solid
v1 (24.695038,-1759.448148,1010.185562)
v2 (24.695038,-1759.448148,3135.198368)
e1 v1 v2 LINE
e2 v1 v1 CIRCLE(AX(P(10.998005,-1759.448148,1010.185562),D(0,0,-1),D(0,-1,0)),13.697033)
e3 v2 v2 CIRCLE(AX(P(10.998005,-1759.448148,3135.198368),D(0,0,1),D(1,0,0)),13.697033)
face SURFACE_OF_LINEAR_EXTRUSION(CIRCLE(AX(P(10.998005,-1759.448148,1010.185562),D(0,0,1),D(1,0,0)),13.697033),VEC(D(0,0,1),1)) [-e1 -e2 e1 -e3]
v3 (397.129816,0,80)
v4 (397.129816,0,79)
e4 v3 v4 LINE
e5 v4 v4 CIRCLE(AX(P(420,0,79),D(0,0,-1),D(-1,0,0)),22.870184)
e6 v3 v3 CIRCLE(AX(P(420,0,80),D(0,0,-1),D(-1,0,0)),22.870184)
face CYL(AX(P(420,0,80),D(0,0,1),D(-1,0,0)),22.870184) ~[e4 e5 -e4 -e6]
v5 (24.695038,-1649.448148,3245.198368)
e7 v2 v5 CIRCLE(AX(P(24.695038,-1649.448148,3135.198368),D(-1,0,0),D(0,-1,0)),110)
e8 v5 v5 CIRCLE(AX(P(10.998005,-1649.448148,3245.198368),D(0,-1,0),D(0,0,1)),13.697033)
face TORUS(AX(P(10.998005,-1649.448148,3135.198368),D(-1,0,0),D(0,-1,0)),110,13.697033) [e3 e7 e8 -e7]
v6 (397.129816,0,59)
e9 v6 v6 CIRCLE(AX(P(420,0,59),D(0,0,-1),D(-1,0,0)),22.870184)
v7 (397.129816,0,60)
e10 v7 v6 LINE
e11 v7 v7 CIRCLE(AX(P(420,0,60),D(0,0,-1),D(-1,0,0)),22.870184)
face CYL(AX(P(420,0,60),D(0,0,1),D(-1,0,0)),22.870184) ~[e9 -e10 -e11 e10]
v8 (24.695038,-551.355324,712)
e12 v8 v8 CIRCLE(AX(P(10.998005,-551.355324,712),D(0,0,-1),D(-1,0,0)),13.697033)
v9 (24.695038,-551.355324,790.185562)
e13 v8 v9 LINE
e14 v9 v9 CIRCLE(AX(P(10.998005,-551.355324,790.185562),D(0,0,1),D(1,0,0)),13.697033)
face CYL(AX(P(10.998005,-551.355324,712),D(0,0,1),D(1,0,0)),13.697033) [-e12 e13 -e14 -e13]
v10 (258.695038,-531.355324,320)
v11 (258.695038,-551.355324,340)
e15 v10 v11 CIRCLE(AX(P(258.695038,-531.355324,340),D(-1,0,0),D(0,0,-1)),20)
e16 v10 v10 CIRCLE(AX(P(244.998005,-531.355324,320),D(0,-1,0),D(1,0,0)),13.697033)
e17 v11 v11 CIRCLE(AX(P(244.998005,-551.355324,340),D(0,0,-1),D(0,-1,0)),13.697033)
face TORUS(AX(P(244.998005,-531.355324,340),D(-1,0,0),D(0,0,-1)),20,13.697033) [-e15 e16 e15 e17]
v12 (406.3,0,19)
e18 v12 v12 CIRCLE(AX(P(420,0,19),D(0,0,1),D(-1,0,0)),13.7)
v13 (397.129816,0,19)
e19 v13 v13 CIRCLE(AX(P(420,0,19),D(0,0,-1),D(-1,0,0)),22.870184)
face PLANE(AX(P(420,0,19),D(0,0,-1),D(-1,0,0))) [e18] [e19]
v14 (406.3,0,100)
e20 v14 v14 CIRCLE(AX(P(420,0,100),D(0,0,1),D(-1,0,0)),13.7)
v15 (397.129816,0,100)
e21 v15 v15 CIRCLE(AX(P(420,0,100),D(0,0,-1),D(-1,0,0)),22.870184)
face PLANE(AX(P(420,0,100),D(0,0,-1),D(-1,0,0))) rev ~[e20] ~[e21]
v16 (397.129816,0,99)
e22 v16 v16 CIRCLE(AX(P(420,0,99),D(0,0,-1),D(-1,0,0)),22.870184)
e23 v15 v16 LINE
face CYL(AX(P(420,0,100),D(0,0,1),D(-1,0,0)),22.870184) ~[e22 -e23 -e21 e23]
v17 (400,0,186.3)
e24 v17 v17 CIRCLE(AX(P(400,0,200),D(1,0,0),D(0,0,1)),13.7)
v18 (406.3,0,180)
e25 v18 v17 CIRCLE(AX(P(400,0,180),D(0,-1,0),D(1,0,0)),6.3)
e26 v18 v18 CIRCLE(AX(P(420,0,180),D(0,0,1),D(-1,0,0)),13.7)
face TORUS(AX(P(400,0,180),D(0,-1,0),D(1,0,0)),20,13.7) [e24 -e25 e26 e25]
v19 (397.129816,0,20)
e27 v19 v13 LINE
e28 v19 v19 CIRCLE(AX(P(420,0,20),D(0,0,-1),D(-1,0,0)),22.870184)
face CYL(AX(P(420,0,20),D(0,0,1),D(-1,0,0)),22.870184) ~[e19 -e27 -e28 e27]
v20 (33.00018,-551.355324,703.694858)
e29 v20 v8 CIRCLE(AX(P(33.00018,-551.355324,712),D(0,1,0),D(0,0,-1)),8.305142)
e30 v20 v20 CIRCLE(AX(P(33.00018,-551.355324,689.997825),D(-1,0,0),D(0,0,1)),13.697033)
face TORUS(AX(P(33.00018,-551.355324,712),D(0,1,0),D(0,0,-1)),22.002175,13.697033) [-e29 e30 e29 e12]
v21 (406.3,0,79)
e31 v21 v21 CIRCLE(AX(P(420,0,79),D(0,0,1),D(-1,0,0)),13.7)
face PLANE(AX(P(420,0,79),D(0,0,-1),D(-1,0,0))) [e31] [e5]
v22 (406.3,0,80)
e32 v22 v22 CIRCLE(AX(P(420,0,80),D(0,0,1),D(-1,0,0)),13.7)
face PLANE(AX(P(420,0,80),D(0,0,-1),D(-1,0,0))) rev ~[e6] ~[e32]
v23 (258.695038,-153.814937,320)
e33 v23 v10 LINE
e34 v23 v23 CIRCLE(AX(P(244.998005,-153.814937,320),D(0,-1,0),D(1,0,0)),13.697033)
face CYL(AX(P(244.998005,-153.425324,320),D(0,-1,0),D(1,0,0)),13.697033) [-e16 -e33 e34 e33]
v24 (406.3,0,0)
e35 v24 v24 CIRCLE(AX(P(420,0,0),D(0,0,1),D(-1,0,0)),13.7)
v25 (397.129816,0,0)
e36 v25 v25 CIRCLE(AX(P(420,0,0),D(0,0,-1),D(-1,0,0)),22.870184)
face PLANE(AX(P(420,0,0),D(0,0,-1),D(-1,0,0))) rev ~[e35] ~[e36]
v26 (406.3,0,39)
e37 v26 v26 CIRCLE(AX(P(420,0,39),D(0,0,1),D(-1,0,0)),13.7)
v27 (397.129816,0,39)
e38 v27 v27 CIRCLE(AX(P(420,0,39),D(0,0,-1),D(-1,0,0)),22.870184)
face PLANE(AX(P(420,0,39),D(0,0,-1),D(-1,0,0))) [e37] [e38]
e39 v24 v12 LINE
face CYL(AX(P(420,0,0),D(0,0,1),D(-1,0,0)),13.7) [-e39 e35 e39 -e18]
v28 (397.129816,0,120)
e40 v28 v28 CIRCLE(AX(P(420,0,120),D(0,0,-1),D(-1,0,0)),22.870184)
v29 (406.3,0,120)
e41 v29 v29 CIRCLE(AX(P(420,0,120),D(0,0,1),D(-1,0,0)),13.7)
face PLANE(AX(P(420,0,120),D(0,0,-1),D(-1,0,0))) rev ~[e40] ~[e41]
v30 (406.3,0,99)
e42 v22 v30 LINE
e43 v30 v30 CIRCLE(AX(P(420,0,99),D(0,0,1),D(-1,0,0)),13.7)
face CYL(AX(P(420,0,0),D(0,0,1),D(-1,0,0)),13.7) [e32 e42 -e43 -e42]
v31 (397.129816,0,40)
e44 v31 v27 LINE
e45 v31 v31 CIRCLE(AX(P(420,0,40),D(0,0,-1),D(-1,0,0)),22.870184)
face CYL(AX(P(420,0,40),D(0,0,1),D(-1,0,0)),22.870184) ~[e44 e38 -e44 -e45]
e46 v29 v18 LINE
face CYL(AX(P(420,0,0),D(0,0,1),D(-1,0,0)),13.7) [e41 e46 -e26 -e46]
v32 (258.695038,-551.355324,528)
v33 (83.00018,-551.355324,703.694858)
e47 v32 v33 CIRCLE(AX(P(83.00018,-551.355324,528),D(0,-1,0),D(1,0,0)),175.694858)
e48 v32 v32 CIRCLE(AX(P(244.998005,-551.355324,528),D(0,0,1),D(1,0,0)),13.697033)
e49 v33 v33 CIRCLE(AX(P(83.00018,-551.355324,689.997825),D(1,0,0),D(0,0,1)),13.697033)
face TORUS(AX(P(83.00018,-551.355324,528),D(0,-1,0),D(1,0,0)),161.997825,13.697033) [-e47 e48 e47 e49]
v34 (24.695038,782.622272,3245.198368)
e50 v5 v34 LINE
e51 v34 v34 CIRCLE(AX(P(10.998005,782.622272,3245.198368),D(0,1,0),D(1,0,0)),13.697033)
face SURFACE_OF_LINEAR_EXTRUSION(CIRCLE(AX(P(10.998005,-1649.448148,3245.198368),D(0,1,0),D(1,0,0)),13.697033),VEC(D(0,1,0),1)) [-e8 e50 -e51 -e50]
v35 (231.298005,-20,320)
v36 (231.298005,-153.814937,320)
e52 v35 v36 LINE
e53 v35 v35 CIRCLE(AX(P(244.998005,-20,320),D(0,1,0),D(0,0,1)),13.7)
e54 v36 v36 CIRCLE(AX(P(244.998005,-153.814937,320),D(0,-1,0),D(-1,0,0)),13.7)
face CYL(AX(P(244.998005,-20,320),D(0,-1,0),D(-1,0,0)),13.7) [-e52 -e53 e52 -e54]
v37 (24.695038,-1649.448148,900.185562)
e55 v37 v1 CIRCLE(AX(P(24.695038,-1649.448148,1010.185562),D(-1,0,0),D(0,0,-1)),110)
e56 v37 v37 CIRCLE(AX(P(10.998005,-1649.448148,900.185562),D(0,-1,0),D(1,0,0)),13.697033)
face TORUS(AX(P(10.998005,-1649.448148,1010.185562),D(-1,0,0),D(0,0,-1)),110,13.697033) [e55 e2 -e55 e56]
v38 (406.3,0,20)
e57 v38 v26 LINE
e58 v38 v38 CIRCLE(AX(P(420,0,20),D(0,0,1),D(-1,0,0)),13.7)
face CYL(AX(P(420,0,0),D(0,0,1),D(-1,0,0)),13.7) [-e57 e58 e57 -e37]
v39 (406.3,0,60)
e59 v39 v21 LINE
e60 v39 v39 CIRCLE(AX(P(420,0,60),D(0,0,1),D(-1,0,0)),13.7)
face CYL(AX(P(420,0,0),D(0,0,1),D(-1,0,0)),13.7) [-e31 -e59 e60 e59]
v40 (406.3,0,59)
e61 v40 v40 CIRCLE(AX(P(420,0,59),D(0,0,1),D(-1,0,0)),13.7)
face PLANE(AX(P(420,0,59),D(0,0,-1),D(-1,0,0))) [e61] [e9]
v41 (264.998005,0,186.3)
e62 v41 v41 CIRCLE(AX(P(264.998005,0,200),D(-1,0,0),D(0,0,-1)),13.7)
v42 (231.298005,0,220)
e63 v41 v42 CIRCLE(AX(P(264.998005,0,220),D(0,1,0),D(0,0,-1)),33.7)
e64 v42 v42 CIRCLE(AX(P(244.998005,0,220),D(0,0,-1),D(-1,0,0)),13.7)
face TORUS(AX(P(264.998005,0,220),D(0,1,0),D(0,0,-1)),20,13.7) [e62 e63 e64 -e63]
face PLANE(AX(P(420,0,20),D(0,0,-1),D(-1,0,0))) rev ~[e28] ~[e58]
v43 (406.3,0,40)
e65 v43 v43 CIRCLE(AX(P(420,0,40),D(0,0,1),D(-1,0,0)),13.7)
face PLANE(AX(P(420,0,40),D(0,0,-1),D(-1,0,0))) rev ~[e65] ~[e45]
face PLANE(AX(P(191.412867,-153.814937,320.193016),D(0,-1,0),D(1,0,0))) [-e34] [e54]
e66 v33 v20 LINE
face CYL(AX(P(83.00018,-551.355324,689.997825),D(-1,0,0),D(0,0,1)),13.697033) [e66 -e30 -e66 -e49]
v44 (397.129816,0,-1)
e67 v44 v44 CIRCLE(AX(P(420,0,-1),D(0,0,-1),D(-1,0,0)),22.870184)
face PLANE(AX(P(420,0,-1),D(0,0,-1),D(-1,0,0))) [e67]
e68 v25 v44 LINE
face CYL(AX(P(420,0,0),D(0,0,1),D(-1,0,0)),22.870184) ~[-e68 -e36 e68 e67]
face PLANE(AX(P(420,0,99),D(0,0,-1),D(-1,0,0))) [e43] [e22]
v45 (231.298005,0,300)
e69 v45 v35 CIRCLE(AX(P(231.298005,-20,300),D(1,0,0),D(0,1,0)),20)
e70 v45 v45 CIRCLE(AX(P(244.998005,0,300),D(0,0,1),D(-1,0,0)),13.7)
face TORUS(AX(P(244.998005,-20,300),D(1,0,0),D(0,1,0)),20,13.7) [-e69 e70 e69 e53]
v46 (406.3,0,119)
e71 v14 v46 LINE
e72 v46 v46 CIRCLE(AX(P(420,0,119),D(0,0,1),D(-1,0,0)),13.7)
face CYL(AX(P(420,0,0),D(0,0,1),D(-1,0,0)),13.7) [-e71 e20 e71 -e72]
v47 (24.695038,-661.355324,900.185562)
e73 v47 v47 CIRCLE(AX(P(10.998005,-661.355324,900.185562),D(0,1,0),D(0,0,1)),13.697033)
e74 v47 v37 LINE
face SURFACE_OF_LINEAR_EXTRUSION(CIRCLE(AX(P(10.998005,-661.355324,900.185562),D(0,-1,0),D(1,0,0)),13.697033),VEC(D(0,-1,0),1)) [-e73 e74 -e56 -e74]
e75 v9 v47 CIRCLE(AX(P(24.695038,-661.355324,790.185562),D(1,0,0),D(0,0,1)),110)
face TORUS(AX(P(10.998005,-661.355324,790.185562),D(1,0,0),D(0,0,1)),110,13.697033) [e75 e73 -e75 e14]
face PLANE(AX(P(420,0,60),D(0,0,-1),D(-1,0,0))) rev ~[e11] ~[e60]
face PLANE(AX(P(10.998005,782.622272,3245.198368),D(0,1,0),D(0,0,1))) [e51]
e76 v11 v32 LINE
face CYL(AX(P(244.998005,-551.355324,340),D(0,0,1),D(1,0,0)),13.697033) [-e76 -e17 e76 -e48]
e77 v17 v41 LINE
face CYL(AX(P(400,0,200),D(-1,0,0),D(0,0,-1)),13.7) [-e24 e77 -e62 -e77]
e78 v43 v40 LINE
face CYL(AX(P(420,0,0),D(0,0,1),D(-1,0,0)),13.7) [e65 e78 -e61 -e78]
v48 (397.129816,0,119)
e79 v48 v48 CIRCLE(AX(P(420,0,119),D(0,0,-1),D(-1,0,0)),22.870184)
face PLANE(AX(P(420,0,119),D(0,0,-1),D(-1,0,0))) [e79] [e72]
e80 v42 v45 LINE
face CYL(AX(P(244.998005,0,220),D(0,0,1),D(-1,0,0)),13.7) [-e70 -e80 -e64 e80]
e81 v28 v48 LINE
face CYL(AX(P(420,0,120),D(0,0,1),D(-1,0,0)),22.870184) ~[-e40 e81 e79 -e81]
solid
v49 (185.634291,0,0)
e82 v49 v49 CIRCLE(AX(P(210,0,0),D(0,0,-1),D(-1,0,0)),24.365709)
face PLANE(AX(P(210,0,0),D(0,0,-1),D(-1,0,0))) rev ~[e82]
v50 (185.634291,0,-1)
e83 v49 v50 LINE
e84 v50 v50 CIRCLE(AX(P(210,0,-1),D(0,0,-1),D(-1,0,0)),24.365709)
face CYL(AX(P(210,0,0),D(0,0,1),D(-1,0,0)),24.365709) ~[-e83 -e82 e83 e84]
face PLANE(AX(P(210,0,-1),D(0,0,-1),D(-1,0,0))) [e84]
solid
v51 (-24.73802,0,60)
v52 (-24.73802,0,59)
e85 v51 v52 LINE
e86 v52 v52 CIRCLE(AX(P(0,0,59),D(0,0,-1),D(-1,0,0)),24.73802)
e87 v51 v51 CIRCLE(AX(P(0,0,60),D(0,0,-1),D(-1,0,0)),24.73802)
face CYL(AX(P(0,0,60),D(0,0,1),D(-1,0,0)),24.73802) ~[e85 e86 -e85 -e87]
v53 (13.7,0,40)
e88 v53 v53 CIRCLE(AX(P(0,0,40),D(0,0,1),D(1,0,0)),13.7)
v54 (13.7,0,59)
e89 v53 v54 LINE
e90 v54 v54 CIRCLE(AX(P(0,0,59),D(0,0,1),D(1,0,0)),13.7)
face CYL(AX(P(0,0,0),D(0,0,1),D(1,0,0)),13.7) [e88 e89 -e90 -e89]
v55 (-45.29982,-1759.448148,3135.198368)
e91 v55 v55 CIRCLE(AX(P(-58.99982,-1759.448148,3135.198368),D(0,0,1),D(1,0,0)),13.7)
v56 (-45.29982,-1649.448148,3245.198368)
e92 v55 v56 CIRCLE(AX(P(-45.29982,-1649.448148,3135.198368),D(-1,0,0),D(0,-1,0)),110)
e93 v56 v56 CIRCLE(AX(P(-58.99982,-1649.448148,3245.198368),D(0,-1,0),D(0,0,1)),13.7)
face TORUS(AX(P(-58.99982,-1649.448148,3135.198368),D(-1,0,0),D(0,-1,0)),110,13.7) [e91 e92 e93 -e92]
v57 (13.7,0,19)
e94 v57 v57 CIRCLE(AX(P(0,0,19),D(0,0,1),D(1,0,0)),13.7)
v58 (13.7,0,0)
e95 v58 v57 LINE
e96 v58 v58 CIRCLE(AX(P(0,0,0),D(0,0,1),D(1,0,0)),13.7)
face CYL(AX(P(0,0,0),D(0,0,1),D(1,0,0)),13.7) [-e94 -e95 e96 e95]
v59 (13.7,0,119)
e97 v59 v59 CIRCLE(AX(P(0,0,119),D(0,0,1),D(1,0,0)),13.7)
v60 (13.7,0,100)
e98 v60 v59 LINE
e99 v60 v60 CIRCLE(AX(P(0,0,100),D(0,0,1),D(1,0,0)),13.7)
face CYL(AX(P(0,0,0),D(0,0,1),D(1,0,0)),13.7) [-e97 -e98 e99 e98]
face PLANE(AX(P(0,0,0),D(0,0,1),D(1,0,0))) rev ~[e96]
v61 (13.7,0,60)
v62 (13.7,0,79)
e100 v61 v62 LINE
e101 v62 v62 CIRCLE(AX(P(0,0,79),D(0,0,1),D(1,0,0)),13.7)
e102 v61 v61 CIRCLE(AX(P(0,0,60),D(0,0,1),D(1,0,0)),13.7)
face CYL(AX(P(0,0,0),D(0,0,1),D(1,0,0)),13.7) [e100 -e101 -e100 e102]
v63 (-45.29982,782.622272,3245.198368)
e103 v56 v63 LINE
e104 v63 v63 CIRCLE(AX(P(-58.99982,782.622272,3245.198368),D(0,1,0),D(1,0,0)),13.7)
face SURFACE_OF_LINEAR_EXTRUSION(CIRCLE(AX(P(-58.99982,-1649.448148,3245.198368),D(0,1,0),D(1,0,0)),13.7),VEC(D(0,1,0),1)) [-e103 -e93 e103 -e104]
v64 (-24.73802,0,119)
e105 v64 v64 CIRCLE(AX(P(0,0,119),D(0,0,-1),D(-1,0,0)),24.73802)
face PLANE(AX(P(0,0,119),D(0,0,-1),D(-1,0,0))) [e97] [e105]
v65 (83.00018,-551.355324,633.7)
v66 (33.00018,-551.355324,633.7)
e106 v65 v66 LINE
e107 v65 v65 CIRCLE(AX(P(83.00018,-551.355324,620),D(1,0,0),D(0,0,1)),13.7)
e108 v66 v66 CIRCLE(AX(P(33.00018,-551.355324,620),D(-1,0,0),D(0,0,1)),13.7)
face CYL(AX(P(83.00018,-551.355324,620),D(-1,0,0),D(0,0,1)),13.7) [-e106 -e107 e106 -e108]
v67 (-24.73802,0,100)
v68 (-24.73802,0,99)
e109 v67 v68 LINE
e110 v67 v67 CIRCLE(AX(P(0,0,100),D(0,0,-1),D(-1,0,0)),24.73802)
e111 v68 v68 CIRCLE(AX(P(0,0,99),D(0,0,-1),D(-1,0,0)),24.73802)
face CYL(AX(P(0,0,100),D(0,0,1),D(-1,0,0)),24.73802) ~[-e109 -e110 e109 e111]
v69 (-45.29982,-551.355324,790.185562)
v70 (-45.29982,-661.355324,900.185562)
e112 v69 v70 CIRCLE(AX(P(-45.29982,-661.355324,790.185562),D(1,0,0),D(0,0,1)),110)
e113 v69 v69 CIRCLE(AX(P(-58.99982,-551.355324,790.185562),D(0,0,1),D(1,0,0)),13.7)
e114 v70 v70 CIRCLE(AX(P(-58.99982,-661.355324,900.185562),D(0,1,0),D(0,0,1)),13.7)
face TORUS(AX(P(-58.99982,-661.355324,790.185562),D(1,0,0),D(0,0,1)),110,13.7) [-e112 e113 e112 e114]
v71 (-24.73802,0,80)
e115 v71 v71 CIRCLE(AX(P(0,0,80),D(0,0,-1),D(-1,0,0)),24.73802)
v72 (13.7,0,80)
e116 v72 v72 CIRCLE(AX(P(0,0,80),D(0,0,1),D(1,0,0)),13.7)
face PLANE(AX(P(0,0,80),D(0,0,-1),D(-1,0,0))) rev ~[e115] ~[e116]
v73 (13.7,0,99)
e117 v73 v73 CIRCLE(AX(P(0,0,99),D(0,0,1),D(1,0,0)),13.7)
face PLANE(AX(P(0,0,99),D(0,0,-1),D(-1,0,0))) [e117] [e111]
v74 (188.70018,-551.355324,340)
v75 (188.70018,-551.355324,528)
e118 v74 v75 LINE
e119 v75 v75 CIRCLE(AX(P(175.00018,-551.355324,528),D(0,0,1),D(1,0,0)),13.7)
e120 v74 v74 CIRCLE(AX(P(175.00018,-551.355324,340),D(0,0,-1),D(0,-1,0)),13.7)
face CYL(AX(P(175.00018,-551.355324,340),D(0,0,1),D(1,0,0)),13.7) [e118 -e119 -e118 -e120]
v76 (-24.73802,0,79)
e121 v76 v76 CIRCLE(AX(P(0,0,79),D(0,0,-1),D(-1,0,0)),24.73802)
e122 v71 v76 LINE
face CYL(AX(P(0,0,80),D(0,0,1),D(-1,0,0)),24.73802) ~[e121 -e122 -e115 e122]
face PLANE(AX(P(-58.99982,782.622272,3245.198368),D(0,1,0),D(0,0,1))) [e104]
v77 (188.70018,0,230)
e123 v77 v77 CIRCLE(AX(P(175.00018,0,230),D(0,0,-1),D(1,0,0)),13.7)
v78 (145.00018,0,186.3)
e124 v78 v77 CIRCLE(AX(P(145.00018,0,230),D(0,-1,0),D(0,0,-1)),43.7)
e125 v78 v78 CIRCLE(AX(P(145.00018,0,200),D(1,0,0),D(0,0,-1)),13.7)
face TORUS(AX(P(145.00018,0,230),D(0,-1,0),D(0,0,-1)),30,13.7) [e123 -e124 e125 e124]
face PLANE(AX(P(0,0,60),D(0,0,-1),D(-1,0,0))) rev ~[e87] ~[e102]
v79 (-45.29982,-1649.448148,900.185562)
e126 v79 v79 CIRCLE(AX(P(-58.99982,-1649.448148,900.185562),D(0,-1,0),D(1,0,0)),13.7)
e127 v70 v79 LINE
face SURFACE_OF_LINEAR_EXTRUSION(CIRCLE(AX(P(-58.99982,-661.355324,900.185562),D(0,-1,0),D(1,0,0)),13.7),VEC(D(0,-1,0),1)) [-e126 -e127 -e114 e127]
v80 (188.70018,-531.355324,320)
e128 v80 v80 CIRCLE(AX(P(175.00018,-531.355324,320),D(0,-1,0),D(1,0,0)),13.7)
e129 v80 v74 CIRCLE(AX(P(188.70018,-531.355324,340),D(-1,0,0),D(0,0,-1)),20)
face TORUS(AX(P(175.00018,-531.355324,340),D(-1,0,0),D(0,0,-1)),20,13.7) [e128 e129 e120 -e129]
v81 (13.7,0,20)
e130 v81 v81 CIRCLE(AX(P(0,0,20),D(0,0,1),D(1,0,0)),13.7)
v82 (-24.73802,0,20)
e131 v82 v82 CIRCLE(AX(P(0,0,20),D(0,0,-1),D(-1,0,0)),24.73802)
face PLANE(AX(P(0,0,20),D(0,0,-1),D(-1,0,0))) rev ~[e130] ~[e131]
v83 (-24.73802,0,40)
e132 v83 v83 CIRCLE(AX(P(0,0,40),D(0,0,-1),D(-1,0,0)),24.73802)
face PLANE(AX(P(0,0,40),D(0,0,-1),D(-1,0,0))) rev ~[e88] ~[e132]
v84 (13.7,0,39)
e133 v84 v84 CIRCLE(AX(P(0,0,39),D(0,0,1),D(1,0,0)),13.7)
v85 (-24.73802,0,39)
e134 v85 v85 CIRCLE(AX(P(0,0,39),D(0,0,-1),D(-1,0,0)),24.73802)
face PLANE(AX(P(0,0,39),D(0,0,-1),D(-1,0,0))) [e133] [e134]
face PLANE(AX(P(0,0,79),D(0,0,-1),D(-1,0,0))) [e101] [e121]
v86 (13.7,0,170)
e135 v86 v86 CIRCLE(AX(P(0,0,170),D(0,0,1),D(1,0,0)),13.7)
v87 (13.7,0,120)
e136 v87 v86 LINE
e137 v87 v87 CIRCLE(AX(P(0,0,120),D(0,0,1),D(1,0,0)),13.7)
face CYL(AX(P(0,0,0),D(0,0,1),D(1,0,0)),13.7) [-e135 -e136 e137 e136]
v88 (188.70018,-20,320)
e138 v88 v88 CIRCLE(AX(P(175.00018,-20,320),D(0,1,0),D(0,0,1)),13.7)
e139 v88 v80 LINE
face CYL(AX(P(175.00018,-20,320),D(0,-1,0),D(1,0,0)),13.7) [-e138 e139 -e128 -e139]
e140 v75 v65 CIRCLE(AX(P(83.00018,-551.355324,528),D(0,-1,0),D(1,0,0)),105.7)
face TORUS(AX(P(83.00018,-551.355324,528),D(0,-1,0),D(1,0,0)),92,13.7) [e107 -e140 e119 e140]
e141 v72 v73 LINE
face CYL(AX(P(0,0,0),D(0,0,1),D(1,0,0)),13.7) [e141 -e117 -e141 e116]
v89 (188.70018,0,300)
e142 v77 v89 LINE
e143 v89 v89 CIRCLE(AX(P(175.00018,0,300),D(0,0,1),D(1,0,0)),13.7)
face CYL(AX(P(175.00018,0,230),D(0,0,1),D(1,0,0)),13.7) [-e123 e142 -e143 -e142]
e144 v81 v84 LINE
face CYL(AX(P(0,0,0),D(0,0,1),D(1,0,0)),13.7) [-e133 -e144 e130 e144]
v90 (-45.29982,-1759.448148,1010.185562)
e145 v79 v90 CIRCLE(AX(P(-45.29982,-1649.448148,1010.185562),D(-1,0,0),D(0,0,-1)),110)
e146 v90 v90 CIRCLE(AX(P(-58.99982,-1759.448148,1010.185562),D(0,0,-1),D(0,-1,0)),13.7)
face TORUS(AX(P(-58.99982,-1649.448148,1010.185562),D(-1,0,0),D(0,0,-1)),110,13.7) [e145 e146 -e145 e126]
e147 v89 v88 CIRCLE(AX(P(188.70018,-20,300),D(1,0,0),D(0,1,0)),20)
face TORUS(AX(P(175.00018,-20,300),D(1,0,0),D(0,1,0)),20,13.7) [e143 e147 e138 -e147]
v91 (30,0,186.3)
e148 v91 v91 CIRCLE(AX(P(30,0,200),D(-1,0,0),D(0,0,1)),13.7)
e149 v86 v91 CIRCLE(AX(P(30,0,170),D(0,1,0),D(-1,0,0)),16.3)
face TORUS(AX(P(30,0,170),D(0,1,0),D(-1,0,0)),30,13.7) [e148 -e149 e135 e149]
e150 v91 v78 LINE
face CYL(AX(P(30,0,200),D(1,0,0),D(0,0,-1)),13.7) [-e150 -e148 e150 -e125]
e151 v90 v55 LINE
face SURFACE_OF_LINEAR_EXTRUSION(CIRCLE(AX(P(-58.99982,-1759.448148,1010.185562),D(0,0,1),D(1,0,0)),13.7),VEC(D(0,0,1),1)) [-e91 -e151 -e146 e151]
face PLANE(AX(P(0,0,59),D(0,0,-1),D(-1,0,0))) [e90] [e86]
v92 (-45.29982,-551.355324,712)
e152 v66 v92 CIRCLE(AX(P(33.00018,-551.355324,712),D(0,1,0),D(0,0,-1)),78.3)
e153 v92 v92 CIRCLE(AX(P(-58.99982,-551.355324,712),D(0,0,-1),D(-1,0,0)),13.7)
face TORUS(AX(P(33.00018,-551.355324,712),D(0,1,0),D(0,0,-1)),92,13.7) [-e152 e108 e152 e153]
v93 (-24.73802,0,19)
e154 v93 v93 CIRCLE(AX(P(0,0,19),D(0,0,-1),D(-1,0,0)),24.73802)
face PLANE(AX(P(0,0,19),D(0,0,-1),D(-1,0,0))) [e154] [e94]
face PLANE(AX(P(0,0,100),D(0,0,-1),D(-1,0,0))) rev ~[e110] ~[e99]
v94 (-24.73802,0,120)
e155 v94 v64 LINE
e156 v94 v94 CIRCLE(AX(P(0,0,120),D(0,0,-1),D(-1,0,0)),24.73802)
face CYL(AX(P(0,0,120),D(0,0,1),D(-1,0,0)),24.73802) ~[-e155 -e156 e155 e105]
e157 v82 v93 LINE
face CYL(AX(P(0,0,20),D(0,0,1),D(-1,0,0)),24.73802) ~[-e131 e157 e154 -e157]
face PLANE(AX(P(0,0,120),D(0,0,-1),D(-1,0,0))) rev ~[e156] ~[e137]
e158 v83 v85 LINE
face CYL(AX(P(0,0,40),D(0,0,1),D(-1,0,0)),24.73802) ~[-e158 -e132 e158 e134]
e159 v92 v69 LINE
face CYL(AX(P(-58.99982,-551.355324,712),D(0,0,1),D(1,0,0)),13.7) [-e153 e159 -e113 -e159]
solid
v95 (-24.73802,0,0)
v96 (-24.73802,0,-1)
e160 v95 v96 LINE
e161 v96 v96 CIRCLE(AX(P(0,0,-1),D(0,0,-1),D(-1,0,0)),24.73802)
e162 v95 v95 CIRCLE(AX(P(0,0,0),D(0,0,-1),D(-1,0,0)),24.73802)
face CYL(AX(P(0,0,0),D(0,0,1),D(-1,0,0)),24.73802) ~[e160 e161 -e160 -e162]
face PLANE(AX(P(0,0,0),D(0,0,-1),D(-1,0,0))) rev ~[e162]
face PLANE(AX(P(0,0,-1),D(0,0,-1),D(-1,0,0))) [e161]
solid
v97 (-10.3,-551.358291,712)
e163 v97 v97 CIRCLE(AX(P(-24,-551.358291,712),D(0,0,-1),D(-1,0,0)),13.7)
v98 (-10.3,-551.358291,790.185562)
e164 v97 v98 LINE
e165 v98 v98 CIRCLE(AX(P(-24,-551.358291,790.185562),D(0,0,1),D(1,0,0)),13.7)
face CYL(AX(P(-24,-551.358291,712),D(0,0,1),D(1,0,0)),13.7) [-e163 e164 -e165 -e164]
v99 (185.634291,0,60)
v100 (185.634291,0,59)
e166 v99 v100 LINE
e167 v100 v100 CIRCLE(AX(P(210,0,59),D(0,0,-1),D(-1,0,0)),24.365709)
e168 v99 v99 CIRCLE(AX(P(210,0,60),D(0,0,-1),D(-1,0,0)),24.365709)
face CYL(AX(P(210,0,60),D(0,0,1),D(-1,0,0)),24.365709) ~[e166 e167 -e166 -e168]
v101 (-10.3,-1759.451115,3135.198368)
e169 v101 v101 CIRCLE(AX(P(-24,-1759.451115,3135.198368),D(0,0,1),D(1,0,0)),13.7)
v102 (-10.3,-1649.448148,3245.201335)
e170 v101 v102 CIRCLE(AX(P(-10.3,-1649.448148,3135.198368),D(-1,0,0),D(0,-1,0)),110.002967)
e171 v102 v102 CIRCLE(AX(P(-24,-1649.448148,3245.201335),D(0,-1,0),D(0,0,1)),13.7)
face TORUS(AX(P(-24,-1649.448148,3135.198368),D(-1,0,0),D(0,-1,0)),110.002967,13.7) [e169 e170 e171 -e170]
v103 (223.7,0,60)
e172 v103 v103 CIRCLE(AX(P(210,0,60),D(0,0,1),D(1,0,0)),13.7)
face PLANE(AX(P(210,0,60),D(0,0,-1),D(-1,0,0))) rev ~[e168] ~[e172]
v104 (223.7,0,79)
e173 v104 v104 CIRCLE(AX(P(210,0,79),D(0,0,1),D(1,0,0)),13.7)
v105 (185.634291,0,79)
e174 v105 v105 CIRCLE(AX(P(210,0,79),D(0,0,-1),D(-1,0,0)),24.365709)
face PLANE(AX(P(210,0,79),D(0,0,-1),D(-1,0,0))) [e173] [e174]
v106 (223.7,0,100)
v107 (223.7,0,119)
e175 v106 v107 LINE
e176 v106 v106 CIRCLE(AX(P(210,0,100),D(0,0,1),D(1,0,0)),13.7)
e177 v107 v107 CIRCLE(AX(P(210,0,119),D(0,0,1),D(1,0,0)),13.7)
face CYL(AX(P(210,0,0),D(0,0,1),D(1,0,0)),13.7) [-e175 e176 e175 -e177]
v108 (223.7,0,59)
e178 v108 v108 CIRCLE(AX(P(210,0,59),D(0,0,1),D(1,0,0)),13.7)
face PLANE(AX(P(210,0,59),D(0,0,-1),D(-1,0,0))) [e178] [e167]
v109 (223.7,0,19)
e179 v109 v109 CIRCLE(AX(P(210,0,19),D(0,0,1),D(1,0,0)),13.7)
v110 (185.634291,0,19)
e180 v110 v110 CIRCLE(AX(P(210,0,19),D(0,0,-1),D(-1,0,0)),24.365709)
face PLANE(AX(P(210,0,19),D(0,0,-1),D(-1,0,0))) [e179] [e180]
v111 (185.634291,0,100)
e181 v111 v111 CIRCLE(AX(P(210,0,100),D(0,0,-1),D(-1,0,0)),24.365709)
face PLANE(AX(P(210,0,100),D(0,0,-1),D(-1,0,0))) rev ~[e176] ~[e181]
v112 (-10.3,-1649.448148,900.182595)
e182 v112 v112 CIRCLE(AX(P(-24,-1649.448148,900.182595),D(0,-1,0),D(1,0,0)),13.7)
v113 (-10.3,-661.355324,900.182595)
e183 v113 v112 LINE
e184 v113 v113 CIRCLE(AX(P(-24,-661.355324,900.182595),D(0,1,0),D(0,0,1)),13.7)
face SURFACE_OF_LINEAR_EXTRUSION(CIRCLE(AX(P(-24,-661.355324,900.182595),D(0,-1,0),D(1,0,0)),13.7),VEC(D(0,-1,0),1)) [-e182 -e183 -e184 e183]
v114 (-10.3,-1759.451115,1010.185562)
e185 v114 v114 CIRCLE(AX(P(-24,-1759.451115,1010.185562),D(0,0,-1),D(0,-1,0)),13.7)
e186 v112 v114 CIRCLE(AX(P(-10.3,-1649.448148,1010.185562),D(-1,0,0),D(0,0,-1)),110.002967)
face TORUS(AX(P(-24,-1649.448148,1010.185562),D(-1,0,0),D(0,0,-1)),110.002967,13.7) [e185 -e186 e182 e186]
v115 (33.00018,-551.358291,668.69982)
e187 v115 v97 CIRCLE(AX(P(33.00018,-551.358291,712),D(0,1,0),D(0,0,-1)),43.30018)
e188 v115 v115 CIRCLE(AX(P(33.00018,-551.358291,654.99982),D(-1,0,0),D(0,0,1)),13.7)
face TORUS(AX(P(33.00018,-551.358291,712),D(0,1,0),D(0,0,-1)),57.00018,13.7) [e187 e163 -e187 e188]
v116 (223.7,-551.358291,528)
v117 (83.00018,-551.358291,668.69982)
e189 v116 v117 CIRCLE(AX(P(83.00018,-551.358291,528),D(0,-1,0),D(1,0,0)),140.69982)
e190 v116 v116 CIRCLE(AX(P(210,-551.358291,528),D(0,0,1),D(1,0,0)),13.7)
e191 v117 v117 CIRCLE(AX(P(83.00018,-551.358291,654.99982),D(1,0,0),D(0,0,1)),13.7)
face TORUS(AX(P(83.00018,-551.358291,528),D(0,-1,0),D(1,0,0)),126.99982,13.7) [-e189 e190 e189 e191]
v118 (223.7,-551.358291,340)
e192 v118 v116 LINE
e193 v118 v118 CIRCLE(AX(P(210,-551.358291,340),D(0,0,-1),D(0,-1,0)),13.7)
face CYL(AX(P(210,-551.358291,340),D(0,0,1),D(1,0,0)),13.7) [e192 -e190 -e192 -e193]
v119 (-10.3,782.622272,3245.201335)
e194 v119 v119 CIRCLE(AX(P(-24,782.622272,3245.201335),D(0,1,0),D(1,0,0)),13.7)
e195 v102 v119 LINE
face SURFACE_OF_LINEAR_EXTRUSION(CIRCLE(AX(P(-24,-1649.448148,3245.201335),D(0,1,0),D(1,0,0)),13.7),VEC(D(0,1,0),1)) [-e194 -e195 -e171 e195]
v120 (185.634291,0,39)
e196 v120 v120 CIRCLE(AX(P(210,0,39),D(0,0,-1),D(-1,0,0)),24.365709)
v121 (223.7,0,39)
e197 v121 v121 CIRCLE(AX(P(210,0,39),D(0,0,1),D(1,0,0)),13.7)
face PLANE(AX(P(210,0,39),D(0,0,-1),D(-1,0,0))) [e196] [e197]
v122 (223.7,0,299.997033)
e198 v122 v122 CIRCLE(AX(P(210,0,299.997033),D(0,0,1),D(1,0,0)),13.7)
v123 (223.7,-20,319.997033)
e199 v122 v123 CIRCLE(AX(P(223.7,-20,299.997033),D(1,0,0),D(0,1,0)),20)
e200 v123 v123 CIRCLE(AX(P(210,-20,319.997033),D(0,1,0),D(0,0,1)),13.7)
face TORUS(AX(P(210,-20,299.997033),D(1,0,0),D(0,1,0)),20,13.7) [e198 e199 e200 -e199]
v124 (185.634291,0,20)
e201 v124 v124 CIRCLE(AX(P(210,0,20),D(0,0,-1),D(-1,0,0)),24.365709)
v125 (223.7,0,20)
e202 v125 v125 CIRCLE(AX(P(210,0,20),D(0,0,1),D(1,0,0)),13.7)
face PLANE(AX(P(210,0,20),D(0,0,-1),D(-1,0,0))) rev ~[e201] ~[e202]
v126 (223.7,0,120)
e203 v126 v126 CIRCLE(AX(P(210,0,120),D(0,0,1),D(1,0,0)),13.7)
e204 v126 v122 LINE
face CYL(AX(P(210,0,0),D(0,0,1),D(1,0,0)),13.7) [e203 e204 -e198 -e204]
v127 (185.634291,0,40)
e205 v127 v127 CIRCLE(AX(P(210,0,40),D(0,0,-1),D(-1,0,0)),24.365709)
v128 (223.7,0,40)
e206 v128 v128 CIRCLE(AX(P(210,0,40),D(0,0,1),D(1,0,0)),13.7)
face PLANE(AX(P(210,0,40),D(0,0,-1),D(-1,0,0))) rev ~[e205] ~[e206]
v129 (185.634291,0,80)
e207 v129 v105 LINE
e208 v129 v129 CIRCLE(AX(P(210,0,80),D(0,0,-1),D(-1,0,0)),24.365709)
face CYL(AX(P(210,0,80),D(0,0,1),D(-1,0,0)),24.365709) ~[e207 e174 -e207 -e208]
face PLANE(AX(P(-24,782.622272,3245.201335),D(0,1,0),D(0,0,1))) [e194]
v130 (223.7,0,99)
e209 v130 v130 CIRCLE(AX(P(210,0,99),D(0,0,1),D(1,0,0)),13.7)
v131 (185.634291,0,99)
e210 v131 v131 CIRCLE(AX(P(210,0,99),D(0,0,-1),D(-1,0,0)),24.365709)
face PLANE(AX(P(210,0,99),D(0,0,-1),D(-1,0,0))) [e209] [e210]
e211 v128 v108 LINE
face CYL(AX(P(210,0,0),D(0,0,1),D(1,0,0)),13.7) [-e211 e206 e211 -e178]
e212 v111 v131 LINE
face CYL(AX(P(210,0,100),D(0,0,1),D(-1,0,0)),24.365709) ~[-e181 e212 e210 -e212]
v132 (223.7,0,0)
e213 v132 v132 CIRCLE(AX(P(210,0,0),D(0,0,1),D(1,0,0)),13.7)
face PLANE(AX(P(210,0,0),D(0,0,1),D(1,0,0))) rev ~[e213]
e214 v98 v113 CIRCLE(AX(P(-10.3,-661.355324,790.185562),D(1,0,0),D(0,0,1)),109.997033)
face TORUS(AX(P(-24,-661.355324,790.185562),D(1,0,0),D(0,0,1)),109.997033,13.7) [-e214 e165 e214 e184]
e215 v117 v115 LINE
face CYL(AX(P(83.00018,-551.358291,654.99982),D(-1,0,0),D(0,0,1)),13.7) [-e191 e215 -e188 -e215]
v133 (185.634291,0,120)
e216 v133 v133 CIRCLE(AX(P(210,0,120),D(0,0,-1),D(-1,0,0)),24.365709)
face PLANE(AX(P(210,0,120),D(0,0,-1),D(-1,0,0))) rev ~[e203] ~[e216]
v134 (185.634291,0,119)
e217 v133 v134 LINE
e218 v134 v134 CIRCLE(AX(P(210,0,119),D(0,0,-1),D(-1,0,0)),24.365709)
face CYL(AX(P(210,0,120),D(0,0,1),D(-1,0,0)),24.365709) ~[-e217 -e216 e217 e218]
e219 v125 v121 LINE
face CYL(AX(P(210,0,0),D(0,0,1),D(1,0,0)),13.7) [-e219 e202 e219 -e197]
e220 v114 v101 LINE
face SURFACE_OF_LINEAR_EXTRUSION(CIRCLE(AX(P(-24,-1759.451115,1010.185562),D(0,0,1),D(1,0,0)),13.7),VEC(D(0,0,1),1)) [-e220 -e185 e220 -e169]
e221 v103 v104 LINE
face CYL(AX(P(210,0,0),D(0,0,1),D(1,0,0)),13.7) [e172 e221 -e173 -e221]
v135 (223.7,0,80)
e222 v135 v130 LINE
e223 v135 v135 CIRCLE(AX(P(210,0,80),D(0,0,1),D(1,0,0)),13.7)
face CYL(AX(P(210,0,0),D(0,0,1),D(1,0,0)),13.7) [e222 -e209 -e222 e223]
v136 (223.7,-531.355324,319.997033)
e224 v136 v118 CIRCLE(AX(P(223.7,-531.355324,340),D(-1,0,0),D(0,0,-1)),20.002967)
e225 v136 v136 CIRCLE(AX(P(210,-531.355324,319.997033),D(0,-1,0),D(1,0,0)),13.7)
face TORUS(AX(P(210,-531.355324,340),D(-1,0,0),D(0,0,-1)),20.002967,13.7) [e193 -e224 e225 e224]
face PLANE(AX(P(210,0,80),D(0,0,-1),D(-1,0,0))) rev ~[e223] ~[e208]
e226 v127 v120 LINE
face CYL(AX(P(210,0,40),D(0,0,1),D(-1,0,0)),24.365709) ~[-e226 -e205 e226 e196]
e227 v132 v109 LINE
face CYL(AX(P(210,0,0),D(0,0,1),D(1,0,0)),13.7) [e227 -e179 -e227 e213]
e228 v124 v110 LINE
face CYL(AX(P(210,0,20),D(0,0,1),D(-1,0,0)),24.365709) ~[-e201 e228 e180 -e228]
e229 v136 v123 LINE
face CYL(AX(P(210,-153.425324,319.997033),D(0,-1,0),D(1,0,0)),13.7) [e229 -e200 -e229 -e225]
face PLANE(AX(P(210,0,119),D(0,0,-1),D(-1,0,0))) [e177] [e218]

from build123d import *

# Parameters (mm, degrees)
BARRER5_PROFILE_R       = 13.7
BARRER6_PROFILE_R       = 13.7
CROQUIS41_R             = 13.7
CROQUIS62_R             = 22.870183784
CROQUIS62_R_2           = 24.36570856
CROQUIS62_R_3           = 24.738020287
SALIENTE_EXTRUIR1_DEPTH = 1
MATRIZL1_COUNT          = 7
MATRIZL1_PITCH          = 20
CROQUIS64_W             = 239.066100256
CROQUIS64_H             = 33.201144274
CORTAR_EXTRUIR1_DEPTH   = 5
CROQUIS65_R             = 13.7
CROQUIS65_R_2           = 13.697033


with BuildPart() as part:
    # Barrer5: sweep along a curve in space
    with BuildLine() as barrer5_path:
        Line((0, 0, 0), (0, 0, 170))
        ThreePointArc((0, 0, 170), (8.786796564, 0, 191.213203436), (30, 0, 200))
        Line((30, 0, 200), (145.00018, 0, 200))
        ThreePointArc((145.00018, 0, 200), (166.213383436, 0, 208.786796564), (175.00018, 0, 230))
        Line((175.00018, 0, 230), (175.00018, 0, 300))
        ThreePointArc((175.00018, 0, 300), (175.00018, -5.857864376, 314.142135624), (175.00018, -20, 320))
        Line((175.00018, -20, 320), (175.00018, -156.800061359, 320))
    # Barrer5 profile (on start of the path) → Barrer5 (sweep)
    with BuildSketch(Plane.XY):
        Circle(BARRER5_PROFILE_R)
    sweep(path=barrer5_path.line)


with BuildPart() as body_2:
    # Barrer6: sweep along a curve in space
    with BuildLine() as barrer6_path:
        Line((210, 0, 0), (210, 0, 299.997033))
        ThreePointArc((210, 0, 299.997033), (210, -5.857864376, 314.139168624), (210, -20, 319.997033))
        Line((210, -20, 319.997033), (210, -153.425324093, 319.997033))
    # Barrer6 profile (on start of the path) → Barrer6 (sweep)
    with BuildSketch(Plane(origin=(210, 0, 0), x_dir=(1, 0, 0), z_dir=(0, 0, 1))):
        Circle(BARRER6_PROFILE_R)
    sweep(path=barrer6_path.line)


with BuildPart() as body_3:
    # Barrer7: sweep along a curve in space
    with BuildLine() as barrer7_path:
        Line((420, 0, 0), (420, 0, 180))
        ThreePointArc((420, 0, 180), (414.142135624, 0, 194.142135624), (400, 0, 200))
        Line((400, 0, 200), (264.998005, 0, 200))
        ThreePointArc((264.998005, 0, 200), (250.855869376, 0, 205.857864376), (244.998005, 0, 220))
        Line((244.998005, 0, 220), (244.998005, 0, 300))
        ThreePointArc((244.998005, 0, 300), (244.998005, -5.857864376, 314.142135624), (244.998005, -20, 320))
        Line((244.998005, -20, 320), (244.998005, -158.814937218, 320))
    # Croquis41 → Barrer7 (sweep)
    with BuildSketch(Plane(origin=(0, 0, 0), x_dir=(-1, 0, 0), z_dir=(0, 0, -1))):
        with Locations((-420, 0)):
            Circle(CROQUIS41_R)
    sweep(path=barrer7_path.line)

    # Croquis62 → Saliente-Extruir1 (add)
    with BuildSketch(Plane(origin=(0, 0, 0), x_dir=(-1, 0, 0), z_dir=(0, 0, -1))):
        with Locations((-420, 0)):
            Circle(CROQUIS62_R)
        with Locations((-210, 0)):
            Circle(CROQUIS62_R_2)
        Circle(CROQUIS62_R_3)
    saliente_extruir1 = extrude(amount=SALIENTE_EXTRUIR1_DEPTH)


with BuildPart() as saliente_extruir1_piece_1:
    # of the separate pieces the step leaves, piece 1, a body of its own (saliente_extruir1_pieces)
    add(body_3.part.solids().sort_by_distance((397.129816216, 0, 0))[0])


with BuildPart() as saliente_extruir1_piece_2:
    # of the separate pieces the step leaves, piece 2, a body of its own (saliente_extruir1_pieces)
    add(body_3.part.solids().sort_by_distance((-24.738020287, 0, 0))[0])


with BuildPart() as saliente_extruir1_piece_3:
    # of the separate pieces the step leaves, piece 3, a body of its own (saliente_extruir1_pieces)
    add(body_3.part.solids().sort_by_distance((185.63429144, 0, 0))[0])


with BuildPart() as part_1:
    add(part.part)

    add(body_2.part)  # MatrizL1 merges body 2

    add(saliente_extruir1_piece_1.part)  # MatrizL1 merges Saliente-Extruir1 piece 1
    # MatrizL1: Saliente-Extruir1 ×7
    with Locations(*[(0, 0, i * MATRIZL1_PITCH) for i in range(1, MATRIZL1_COUNT)]):
        add(saliente_extruir1)

    # Croquis64 → Cortar-Extruir1 (cut)
    with BuildSketch(Plane.XZ.offset(158.814937218)):
        with Locations((191.41286696, 320.193015877)):
            Rectangle(CROQUIS64_W, CROQUIS64_H)
    extrude(amount=-CORTAR_EXTRUIR1_DEPTH, mode=Mode.SUBTRACT)

    # Barrer10: sweep along a curve in space
    with BuildLine() as barrer10_path:
        Line((175.00018, -153.425324093, 320), (175.00018, -531.355324093, 320))
        ThreePointArc((175.00018, -531.355324093, 320), (175.00018, -545.497459717, 325.857864376), (175.00018, -551.355324093, 340))
        Line((175.00018, -551.355324093, 340), (175.00018, -551.355324093, 528))
        ThreePointArc((175.00018, -551.355324093, 528), (148.054003869, -551.355324093, 593.053823869), (83.00018, -551.355324093, 620))
        Line((83.00018, -551.355324093, 620), (65.00018, -551.355324093, 620))
        Line((65.00018, -551.355324093, 620), (33.00018, -551.355324093, 620))
        ThreePointArc((33.00018, -551.355324093, 620), (-32.053643869, -551.355324093, 646.946176131), (-58.99982, -551.355324093, 712))
        Line((-58.99982, -551.355324093, 712), (-58.99982, -551.355324093, 790.185562061))
        ThreePointArc((-58.99982, -661.355324093, 900.185562061), (-58.99982, -583.573578162, 867.967307991), (-58.99982, -551.355324093, 790.185562061))
        Line((-58.99982, -661.355324093, 900.185562061), (-58.99982, -1649.448147603, 900.185562061))
        ThreePointArc((-58.99982, -1649.448147603, 900.185562061), (-58.99982, -1727.229893534, 932.40381613), (-58.99982, -1759.448147603, 1010.185562061))
        Line((-58.99982, -1759.448147603, 1010.185562061), (-58.99982, -1759.448147603, 3135.198367651))
        ThreePointArc((-58.99982, -1759.448147603, 3135.198367651), (-58.99982, -1727.229893534, 3212.980113581), (-58.99982, -1649.448147603, 3245.198367651))
        Line((-58.99982, -1649.448147603, 3245.198367651), (-58.99982, 782.622272397, 3245.198367651))
    # Croquis65 → Barrer10 (sweep)
    with BuildSketch(Plane.XZ.offset(153.425324093)):
        with Locations((175.00018, 320)):
            Circle(CROQUIS65_R)
        with Locations((210, 319.997033)):
            Circle(CROQUIS65_R)
        with Locations((244.998005, 320)):
            Circle(CROQUIS65_R_2)
    sweep(path=barrer10_path.line)


solid = Compound([saliente_extruir1_piece_2.part, saliente_extruir1_piece_3.part, part_1.part])
